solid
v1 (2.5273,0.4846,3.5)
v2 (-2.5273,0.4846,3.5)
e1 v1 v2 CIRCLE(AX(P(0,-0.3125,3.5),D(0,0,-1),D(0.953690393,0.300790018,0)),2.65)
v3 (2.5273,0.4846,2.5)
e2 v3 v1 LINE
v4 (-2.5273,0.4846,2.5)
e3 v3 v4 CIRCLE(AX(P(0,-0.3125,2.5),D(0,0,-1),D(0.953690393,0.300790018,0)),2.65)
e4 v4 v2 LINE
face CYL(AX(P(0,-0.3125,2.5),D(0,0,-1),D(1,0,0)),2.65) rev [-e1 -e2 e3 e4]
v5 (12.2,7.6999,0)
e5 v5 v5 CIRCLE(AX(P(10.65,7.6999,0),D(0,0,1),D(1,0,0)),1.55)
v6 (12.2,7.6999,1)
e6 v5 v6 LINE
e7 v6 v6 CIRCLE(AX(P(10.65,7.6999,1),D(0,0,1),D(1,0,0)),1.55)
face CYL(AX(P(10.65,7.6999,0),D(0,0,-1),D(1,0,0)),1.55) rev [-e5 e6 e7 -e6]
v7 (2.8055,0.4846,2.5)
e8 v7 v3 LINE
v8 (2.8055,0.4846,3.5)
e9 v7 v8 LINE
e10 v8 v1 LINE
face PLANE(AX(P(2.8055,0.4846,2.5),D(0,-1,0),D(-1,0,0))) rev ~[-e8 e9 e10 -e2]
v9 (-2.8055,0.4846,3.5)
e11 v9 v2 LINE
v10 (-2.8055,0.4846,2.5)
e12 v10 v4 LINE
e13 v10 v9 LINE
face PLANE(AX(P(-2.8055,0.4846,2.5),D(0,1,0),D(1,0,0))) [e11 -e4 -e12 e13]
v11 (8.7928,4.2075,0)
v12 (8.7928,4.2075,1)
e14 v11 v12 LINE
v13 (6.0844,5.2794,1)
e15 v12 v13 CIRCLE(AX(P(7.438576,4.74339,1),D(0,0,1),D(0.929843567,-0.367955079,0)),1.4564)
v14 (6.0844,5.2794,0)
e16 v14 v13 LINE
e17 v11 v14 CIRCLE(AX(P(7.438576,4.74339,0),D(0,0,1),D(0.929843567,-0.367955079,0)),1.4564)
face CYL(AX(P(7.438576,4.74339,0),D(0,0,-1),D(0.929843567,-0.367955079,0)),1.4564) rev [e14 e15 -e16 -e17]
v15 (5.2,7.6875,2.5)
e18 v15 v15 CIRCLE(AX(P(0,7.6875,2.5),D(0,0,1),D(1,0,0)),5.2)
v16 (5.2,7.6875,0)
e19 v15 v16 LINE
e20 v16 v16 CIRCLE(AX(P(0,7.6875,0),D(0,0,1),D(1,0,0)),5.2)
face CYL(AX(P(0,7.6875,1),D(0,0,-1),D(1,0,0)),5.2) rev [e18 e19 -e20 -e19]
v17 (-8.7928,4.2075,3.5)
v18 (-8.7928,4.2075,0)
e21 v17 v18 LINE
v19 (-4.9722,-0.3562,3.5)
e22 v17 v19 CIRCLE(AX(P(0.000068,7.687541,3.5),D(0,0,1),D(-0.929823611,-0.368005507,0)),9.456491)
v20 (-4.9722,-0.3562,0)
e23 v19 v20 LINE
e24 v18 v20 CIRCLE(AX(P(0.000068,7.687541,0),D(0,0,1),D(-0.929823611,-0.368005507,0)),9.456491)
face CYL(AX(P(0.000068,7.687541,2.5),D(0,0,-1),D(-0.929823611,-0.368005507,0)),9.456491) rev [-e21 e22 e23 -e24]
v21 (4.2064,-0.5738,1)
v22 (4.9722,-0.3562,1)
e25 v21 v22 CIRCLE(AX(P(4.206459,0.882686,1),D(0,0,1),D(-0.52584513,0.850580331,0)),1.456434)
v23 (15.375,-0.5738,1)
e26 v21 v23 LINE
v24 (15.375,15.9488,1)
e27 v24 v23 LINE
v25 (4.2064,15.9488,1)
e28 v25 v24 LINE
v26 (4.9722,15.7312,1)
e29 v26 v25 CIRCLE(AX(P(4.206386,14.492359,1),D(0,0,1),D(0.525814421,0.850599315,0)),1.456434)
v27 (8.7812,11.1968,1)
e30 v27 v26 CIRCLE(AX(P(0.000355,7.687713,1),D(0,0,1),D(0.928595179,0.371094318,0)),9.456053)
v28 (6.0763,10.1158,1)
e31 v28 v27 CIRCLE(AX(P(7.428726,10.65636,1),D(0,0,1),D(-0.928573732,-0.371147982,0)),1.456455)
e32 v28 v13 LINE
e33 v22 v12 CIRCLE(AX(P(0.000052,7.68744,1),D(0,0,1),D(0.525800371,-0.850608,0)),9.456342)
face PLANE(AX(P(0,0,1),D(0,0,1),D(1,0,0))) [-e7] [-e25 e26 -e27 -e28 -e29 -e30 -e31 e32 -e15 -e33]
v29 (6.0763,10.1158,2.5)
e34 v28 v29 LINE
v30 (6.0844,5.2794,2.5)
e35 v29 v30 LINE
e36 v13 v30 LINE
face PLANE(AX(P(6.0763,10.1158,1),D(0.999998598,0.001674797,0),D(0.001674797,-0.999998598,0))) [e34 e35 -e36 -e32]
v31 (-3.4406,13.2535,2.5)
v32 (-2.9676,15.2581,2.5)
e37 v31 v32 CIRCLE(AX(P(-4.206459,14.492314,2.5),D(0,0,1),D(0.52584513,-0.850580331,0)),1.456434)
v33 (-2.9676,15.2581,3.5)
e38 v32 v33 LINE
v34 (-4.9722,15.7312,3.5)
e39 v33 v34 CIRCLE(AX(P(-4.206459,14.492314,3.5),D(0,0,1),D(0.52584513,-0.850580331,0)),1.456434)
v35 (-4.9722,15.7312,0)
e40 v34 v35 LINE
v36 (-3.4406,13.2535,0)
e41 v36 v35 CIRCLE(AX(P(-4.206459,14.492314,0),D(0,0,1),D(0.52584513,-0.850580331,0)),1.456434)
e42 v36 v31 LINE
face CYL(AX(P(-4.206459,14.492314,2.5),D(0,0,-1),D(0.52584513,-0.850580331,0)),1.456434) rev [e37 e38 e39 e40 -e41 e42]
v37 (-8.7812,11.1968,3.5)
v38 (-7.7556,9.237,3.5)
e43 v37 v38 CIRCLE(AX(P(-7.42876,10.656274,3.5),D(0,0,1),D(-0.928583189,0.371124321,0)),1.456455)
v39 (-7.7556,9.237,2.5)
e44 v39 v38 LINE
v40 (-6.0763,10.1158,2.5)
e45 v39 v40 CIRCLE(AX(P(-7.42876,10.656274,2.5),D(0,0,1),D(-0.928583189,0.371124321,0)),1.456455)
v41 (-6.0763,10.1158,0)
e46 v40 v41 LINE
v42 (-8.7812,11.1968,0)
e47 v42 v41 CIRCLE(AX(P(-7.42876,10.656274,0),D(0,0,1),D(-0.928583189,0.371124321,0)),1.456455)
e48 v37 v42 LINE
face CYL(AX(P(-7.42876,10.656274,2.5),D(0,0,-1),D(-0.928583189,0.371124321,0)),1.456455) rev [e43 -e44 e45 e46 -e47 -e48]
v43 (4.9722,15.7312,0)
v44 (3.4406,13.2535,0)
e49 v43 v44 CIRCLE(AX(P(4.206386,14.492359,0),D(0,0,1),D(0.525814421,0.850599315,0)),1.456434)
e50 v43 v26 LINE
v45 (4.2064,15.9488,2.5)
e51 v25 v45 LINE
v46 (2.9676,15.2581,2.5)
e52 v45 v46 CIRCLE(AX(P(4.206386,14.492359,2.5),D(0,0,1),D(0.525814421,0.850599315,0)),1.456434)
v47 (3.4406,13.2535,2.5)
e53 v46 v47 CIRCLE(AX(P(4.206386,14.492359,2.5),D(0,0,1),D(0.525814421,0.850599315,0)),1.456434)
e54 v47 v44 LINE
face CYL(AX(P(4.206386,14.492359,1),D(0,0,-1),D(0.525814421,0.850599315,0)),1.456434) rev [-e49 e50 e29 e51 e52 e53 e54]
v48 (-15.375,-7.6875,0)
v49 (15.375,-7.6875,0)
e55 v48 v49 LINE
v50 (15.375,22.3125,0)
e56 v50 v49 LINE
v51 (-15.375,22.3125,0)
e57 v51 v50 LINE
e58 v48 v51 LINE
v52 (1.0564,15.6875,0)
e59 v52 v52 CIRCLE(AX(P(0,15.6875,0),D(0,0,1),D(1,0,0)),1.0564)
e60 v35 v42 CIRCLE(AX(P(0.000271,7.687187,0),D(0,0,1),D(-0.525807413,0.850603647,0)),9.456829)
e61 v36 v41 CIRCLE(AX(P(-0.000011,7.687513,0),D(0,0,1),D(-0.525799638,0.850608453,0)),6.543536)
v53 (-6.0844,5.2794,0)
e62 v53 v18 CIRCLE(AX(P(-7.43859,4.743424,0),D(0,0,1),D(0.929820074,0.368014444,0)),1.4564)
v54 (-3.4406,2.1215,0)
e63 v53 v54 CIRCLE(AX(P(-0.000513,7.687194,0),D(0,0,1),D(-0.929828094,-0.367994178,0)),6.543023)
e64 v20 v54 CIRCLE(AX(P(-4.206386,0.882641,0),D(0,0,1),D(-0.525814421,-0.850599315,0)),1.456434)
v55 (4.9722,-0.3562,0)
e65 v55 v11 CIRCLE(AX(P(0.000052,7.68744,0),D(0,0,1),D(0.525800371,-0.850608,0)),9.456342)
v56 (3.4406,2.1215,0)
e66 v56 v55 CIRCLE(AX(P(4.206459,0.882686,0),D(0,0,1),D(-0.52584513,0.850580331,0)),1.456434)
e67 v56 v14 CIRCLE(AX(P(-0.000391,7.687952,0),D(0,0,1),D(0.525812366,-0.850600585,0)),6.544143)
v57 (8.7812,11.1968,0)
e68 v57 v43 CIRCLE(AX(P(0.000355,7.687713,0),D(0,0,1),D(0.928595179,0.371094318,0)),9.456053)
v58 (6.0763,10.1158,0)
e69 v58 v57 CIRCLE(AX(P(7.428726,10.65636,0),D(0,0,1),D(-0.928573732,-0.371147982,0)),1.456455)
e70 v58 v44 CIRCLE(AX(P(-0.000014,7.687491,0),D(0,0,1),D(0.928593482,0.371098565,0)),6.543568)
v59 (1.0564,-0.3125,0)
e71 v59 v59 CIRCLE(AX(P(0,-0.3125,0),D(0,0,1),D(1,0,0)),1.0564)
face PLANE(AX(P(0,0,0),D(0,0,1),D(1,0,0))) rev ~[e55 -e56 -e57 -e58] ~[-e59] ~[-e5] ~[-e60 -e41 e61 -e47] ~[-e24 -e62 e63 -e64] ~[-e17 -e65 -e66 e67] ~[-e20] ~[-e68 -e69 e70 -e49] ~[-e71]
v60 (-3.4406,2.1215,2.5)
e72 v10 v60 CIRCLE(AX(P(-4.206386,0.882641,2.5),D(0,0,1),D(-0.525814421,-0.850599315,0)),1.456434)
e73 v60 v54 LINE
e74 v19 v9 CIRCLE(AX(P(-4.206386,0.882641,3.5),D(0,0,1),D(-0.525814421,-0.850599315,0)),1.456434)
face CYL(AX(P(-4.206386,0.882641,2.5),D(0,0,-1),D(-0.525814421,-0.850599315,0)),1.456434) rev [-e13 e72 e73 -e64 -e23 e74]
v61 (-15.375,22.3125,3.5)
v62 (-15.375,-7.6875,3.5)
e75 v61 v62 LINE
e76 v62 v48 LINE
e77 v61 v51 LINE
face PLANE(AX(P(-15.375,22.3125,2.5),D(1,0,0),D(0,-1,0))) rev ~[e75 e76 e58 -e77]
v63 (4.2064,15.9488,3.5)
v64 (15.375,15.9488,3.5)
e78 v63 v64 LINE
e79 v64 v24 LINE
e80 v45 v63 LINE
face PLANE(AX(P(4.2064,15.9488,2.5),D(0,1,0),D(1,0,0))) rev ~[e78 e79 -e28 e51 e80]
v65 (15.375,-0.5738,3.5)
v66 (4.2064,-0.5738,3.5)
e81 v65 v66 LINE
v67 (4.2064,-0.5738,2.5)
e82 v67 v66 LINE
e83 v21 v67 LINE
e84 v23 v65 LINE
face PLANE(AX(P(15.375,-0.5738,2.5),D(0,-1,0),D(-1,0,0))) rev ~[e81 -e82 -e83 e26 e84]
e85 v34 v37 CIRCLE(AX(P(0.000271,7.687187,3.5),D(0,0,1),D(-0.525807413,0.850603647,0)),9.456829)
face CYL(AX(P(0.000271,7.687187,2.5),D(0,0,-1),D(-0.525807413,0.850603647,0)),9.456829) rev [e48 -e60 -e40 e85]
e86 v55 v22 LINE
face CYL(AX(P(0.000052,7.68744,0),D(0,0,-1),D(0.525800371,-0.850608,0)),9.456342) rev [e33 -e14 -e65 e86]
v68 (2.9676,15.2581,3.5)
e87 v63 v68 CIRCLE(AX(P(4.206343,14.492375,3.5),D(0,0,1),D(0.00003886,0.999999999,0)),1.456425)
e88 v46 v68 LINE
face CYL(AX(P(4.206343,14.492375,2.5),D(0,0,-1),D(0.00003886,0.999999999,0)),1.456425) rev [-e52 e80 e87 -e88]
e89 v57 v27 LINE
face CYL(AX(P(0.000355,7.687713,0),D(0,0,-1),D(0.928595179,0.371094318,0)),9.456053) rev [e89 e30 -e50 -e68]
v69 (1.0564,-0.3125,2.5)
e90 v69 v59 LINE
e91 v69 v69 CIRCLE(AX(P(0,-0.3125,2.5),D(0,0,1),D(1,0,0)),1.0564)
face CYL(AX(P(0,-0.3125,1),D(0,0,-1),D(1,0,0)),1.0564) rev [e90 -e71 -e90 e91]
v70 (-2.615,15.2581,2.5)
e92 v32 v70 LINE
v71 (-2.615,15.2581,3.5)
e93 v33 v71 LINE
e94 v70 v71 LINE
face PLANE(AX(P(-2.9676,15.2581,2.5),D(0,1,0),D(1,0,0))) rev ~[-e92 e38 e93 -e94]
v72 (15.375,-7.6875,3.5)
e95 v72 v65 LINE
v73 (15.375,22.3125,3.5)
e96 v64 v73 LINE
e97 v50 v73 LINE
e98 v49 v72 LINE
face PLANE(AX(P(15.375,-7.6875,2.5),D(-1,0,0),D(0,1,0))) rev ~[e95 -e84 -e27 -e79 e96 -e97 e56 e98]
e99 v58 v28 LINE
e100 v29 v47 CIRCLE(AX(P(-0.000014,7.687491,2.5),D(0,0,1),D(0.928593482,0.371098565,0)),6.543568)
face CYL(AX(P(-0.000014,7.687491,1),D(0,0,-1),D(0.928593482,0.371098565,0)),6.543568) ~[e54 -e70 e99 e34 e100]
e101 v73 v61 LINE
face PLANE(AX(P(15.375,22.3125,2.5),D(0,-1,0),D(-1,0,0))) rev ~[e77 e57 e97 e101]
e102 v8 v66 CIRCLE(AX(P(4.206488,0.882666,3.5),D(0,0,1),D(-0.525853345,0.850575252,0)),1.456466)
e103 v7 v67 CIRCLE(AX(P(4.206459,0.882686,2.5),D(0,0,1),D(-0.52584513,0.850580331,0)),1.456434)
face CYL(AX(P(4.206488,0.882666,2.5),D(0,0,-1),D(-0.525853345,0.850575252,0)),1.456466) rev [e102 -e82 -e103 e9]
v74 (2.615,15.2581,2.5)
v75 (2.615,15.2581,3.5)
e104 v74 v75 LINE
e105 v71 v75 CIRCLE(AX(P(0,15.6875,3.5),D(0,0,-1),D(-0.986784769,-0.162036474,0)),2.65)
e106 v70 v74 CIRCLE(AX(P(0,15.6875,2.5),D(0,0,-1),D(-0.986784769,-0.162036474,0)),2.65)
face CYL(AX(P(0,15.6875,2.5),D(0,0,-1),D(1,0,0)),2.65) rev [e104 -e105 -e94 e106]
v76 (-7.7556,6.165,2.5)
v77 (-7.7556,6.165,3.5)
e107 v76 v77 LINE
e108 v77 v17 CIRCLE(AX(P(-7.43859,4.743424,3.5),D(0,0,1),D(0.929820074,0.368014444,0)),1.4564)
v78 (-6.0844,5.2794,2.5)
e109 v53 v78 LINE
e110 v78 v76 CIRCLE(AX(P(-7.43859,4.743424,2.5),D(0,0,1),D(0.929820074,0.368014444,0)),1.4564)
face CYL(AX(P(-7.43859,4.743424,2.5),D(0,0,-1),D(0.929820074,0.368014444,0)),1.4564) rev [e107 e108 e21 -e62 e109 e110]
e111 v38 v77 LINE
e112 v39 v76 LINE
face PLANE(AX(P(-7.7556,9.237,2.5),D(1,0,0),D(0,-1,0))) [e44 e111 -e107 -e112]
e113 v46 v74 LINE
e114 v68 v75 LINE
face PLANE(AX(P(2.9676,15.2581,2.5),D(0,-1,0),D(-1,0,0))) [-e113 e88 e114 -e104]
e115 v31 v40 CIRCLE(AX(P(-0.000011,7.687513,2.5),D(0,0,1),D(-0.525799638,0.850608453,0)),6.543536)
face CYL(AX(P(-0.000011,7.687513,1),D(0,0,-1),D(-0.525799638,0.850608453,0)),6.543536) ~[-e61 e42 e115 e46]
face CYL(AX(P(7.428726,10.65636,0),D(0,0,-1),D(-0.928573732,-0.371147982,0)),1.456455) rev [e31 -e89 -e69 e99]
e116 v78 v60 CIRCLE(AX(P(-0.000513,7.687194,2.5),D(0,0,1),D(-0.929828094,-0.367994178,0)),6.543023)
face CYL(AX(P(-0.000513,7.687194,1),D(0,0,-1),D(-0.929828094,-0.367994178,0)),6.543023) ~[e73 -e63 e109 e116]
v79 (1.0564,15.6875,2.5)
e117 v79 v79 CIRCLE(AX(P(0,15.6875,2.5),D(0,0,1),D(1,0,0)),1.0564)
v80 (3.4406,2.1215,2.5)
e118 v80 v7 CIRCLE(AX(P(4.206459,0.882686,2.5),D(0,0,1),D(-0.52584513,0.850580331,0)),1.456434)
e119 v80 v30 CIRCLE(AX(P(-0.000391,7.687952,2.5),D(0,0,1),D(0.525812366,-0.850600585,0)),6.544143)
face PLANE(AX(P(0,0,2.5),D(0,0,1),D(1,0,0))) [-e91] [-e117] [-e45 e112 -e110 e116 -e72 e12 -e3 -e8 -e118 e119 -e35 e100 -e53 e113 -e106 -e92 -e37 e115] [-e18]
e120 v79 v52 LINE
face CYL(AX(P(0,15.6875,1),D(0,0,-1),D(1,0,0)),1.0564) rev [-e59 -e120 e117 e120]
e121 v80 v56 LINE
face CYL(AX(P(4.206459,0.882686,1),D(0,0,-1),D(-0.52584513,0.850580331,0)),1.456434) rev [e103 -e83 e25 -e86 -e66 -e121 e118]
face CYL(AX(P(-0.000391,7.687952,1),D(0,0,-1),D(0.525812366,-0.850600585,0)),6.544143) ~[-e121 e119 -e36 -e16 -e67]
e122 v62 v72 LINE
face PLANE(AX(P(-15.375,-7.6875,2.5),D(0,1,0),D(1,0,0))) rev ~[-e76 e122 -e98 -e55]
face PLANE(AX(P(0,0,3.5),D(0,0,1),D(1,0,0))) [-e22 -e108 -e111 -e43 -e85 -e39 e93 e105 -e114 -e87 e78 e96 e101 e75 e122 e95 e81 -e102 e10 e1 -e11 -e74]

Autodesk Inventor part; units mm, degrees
ref_plane "YZ Plane" through (0, 0, 0) normal (1, 0, 0) x (0, 1, 0)
ref_plane "XZ Plane" through (0, 0, 0) normal (0, 1, 0) x (-1, 0, 0)
ref_plane "XY Plane" through (0, 0, 0) normal (0, 0, 1) x (1, 0, 0)
ref_plane "Work Plane1" through (0, 0, 0) normal (0, 0, 1) x (1, 0, 0)
sketch "Sketch1" plane through (0, 0, 0) normal (0, 0, 1) x (1, 0, 0)
  arc A0 (-3.651, 13.5937) -> (-4.7619, 15.391) centre (-4.2064, 14.4923) ccw projected
  arc A1 (-3.651, 13.5937) -> (-6.4477, 10.2643) centre (0, 7.6875) ccw projected
  arc A2 (-8.4097, 11.0483) -> (-6.4477, 10.2643) centre (-7.4287, 10.6563) ccw projected
  arc A3 (-4.7619, 15.391) -> (-8.4097, 11.0483) centre (0, 7.6875) ccw projected
  arc A4 (6.4477, 10.2643) -> (8.4097, 11.0483) centre (7.4287, 10.6563) ccw projected
  arc A5 (6.4477, 10.2643) -> (3.651, 13.5937) centre (0, 7.6875) ccw projected
  arc A6 (4.7619, 15.391) -> (3.651, 13.5937) centre (4.2064, 14.4923) ccw projected
  arc A7 (8.4097, 11.0483) -> (4.7619, 15.391) centre (0, 7.6875) ccw projected
  arc A8 (-6.4563, 5.1322) -> (-8.4209, 4.3547) centre (-7.4386, 4.7434) ccw projected
  arc A9 (-6.4563, 5.1322) -> (-3.651, 1.7813) centre (0, 7.6875) ccw projected
  arc A10 (-4.7619, -0.016) -> (-3.651, 1.7813) centre (-4.2064, 0.8827) ccw projected
  arc A11 (-8.4209, 4.3547) -> (-4.7619, -0.016) centre (0, 7.6875) ccw projected
  arc A12 (3.651, 1.7813) -> (4.7619, -0.016) centre (4.2064, 0.8827) ccw projected
  arc A13 (3.651, 1.7813) -> (6.4563, 5.1322) centre (0, 7.6875) ccw projected
  arc A14 (8.4209, 4.3547) -> (6.4563, 5.1322) centre (7.4386, 4.7434) ccw projected
  arc A15 (4.7619, -0.016) -> (8.4209, 4.3547) centre (0, 7.6875) ccw projected
  circle A16 centre (10.65, 7.6999) radius 1.15 projected
  circle A17 centre (0, 15.6875) radius 1.0564 projected
  circle A18 centre (0, -0.3125) radius 1.0564 projected
  circle A19 centre (0, 7.6875) radius 5 projected
  circle A20 centre (0, 7.6875) radius 13.7 projected
  line L0 (-116.625, -11.1875) -> (15.375, -11.1875) projected
  line L1 (15.375, -11.1875) -> (15.375, -7.6875) projected
  line L2 (-116.625, -7.6875) -> (15.375, -7.6875) projected
  line L3 (-116.625, -11.1875) -> (-116.625, -7.6875) projected
  line L4 (15.375, -7.6875) -> (-15.375, -7.6875)
  line L5 (-15.375, -7.6875) -> (-15.375, 22.3125)
  line L6 (-15.375, 22.3125) -> (15.375, 22.3125)
  line L7 (15.375, 22.3125) -> (15.375, -7.6875)
  circle A21 centre (0, 7.6875) radius 14.375 projected
  circle A22 centre (0, 7.6875) radius 5.2
  arc A23 (-3.4406, 13.2535) -> (-4.9722, 15.7312) centre (-4.2064, 14.4923) ccw
  arc A24 (-3.4406, 13.2535) -> (-6.0763, 10.1158) centre (0, 7.6875) ccw
  arc A25 (-8.7812, 11.1968) -> (-6.0763, 10.1158) centre (-7.4287, 10.6563) ccw
  arc A26 (-4.9722, 15.7312) -> (-8.7812, 11.1968) centre (0, 7.6875) ccw
  arc A27 (4.9722, 15.7312) -> (3.4406, 13.2535) centre (4.2064, 14.4923) ccw
  arc A28 (6.0763, 10.1158) -> (3.4406, 13.2535) centre (0, 7.6875) ccw
  arc A29 (6.0763, 10.1158) -> (8.7812, 11.1968) centre (7.4287, 10.6563) ccw
  arc A30 (8.7812, 11.1968) -> (4.9722, 15.7312) centre (0, 7.6875) ccw
  arc A31 (3.4406, 2.1215) -> (6.0844, 5.2794) centre (0, 7.6875) ccw
  arc A32 (3.4406, 2.1215) -> (4.9722, -0.3562) centre (4.2064, 0.8827) ccw
  arc A33 (4.9722, -0.3562) -> (8.7928, 4.2075) centre (0, 7.6875) ccw
  arc A34 (8.7928, 4.2075) -> (6.0844, 5.2794) centre (7.4386, 4.7434) ccw
  arc A35 (-6.0844, 5.2794) -> (-8.7928, 4.2075) centre (-7.4386, 4.7434) ccw
  arc A36 (-6.0844, 5.2794) -> (-3.4406, 2.1215) centre (0, 7.6875) ccw
  arc A37 (-4.9722, -0.3562) -> (-3.4406, 2.1215) centre (-4.2064, 0.8827) ccw
  arc A38 (-8.7928, 4.2075) -> (-4.9722, -0.3562) centre (0, 7.6875) ccw
  circle A39 centre (10.65, 7.6999) radius 1.55
  point P0 (0, 0)
  dimension "d0" = 30
  dimension "d1" = 15.375
  dimension "d2" = 15.375
  dimension "d3" = 0.2
  dimension "d4" = 0.4
  dimension "d5" = 0.4
  dimension "d6" = 0.4
  dimension "d7" = 0.4
  dimension "d8" = 0.4
extrude "Extrusion1" add sketch "Sketch1" along normal blind 1 contours A20 | L2 L5 L6 L7 | A21
sketch "Sketch2" plane through (0, 0, 1) normal (0, 0, 1) x (1, 0, 0)
  line L0 (15.375, 22.3125) -> (-15.375, 22.3125) projected
  line L1 (-15.375, 22.3125) -> (-15.375, -7.6875) projected
  line L2 (-15.375, -7.6875) -> (15.375, -7.6875) projected
  line L3 (15.375, -7.6875) -> (15.375, 22.3125) projected
  circle A0 centre (0, 15.6875) radius 1.0564 projected
  circle A1 centre (0, -0.3125) radius 1.0564 projected
  circle A2 centre (0, 7.6875) radius 5.2 projected
  arc A3 (-3.4406, 13.2535) -> (-6.0763, 10.1158) centre (0, 7.6875) ccw projected
  arc A4 (-8.7812, 11.1968) -> (-6.0763, 10.1158) centre (-7.4287, 10.6563) ccw projected
  arc A5 (-4.9722, 15.7312) -> (-8.7812, 11.1968) centre (0, 7.6875) ccw projected
  arc A6 (-3.4406, 13.2535) -> (-4.9722, 15.7312) centre (-4.2064, 14.4923) ccw projected
  arc A7 (6.0763, 10.1158) -> (3.4406, 13.2535) centre (0, 7.6875) ccw projected
  arc A8 (4.9722, 15.7312) -> (3.4406, 13.2535) centre (4.2064, 14.4923) ccw projected
  arc A9 (8.7812, 11.1968) -> (4.9722, 15.7312) centre (0, 7.6875) ccw projected
  arc A10 (6.0763, 10.1158) -> (8.7812, 11.1968) centre (7.4287, 10.6563) ccw projected
  arc A11 (3.4406, 2.1215) -> (4.9722, -0.3562) centre (4.2064, 0.8827) ccw projected
  arc A12 (3.4406, 2.1215) -> (6.0844, 5.2794) centre (0, 7.6875) ccw projected
  arc A13 (8.7928, 4.2075) -> (6.0844, 5.2794) centre (7.4386, 4.7434) ccw projected
  arc A14 (4.9722, -0.3562) -> (8.7928, 4.2075) centre (0, 7.6875) ccw projected
  arc A15 (-6.0844, 5.2794) -> (-3.4406, 2.1215) centre (0, 7.6875) ccw projected
  arc A16 (-4.9722, -0.3562) -> (-3.4406, 2.1215) centre (-4.2064, 0.8827) ccw projected
  arc A17 (-8.7928, 4.2075) -> (-4.9722, -0.3562) centre (0, 7.6875) ccw projected
  arc A18 (-6.0844, 5.2794) -> (-8.7928, 4.2075) centre (-7.4386, 4.7434) ccw projected
  circle A19 centre (10.65, 7.6999) radius 1.55 projected
  arc A20 (4.9722, 15.7312) -> (3.4406, 13.2535) centre (4.2064, 14.4923) ccw projected
  line L4 (4.2064, 15.9488) -> (15.375, 15.9488)
  line L5 (15.375, -7.6875) -> (15.375, 22.3125) projected
  line L6 (4.2064, -0.5738) -> (15.375, -0.5738)
  arc A21 (6.0763, 10.1158) -> (8.7812, 11.1968) centre (7.4287, 10.6563) ccw projected
  line L7 (6.0763, 10.1158) -> (6.0844, 5.2794)
  point P0 (0, 0)
extrude "Extrusion2" add sketch "Sketch2" along normal blind 1.5 contours L3 L4 A8 A7 L7 A12 A11 L6 L2 L1 L0
sketch "Sketch3" plane through (0, 0, 2.5) normal (0, 0, 1) x (1, 0, 0)
  line L0 (15.375, -7.6875) -> (15.375, -0.5738) projected
  line L1 (15.375, -0.5738) -> (4.2064, -0.5738) projected
  arc A0 (3.4406, 2.1215) -> (4.2064, -0.5738) centre (4.2064, 0.8827) ccw projected
  arc A1 (3.4406, 2.1215) -> (6.0844, 5.2794) centre (0, 7.6875) ccw projected
  line L2 (6.0844, 5.2794) -> (6.0763, 10.1158) projected
  arc A2 (6.0763, 10.1158) -> (3.4406, 13.2535) centre (0, 7.6875) ccw projected
  arc A3 (4.2064, 15.9488) -> (3.4406, 13.2535) centre (4.2064, 14.4923) ccw projected
  line L3 (4.2064, 15.9488) -> (15.375, 15.9488) projected
  line L4 (15.375, 15.9488) -> (15.375, 22.3125) projected
  line L5 (15.375, 22.3125) -> (-15.375, 22.3125) projected
  line L6 (-15.375, 22.3125) -> (-15.375, -7.6875) projected
  line L7 (-15.375, -7.6875) -> (15.375, -7.6875) projected
  circle A4 centre (0, 15.6875) radius 1.0564 projected
  circle A5 centre (0, -0.3125) radius 1.0564 projected
  arc A6 (-6.0844, 5.2794) -> (-8.7928, 4.2075) centre (-7.4386, 4.7434) ccw projected
  arc A7 (-6.0844, 5.2794) -> (-3.4406, 2.1215) centre (0, 7.6875) ccw projected
  arc A8 (-4.9722, -0.3562) -> (-3.4406, 2.1215) centre (-4.2064, 0.8827) ccw projected
  arc A9 (-8.7928, 4.2075) -> (-4.9722, -0.3562) centre (0, 7.6875) ccw projected
  arc A10 (-3.4406, 13.2535) -> (-4.9722, 15.7312) centre (-4.2064, 14.4923) ccw projected
  arc A11 (-3.4406, 13.2535) -> (-6.0763, 10.1158) centre (0, 7.6875) ccw projected
  arc A12 (-8.7812, 11.1968) -> (-6.0763, 10.1158) centre (-7.4287, 10.6563) ccw projected
  arc A13 (-4.9722, 15.7312) -> (-8.7812, 11.1968) centre (0, 7.6875) ccw projected
  circle A14 centre (0, 7.6875) radius 5.2 projected
  circle A15 centre (0, 15.6875) radius 2.65
  circle A16 centre (0, -0.3125) radius 1.0564 projected
  circle A17 centre (0, -0.3125) radius 2.65
  arc A18 (-2.4425, 10.6818) -> (-4.3563, 11.5819) centre (-5.3868, 6.906) ccw projected
  arc A19 (-4.3563, 11.5819) -> (-4.9119, 10.8525) centre (0, 7.6875) ccw projected
  arc A20 (-4.9119, 10.8525) -> (-3.5356, 9.2466) centre (-0.678, 13.0883) ccw projected
  arc A21 (-3.5356, 9.2466) -> (-3.736, 8.6743) centre (0, 7.6875) ccw projected
  arc A22 (-3.736, 8.6743) -> (-5.8134, 8.2775) centre (-3.8987, 3.889) ccw projected
  arc A23 (-5.8134, 8.2775) -> (-5.8341, 7.3609) centre (0, 7.6875) ccw projected
  arc A24 (-5.8341, 7.3609) -> (-3.7768, 6.8706) centre (-3.723, 11.6584) ccw projected
  arc A25 (-3.7768, 6.8706) -> (-3.6025, 6.2899) centre (0, 7.6875) ccw projected
  arc A26 (-3.6025, 6.2899) -> (-5.05, 4.7478) centre (-0.9214, 2.3228) ccw projected
  arc A27 (-5.05, 4.7478) -> (-4.5279, 3.994) centre (0, 7.6875) ccw projected
  arc A28 (-4.5279, 3.994) -> (-2.5753, 4.8067) centre (-5.346, 8.7117) ccw projected
  arc A29 (-2.5753, 4.8067) -> (-2.093, 4.4393) centre (0, 7.6875) ccw projected
  arc A30 (-2.093, 4.4393) -> (-2.3576, 2.341) centre (2.4078, 2.8058) ccw projected
  arc A31 (-2.3576, 2.341) -> (-1.4922, 2.038) centre (0, 7.6875) ccw projected
  arc A32 (-1.4922, 2.038) -> (-0.3902, 3.8431) centre (-4.927, 5.3738) ccw projected
  arc A33 (-0.3902, 3.8431) -> (0.216, 3.8294) centre (0, 7.6875) ccw projected
  arc A34 (0.216, 3.8294) -> (1.2353, 1.9763) centre (4.8174, 5.1534) ccw projected
  arc A35 (1.2353, 1.9763) -> (2.1135, 2.2398) centre (0, 7.6875) ccw projected
  arc A36 (2.1135, 2.2398) -> (1.944, 4.348) centre (-2.6261, 2.9196) ccw projected
  arc A37 (1.944, 4.348) -> (2.4425, 4.6932) centre (0, 7.6875) ccw projected
  arc A38 (2.4425, 4.6932) -> (4.3563, 3.7931) centre (5.3868, 8.469) ccw projected
  arc A39 (4.3563, 3.7931) -> (4.9119, 4.5225) centre (0, 7.6875) ccw projected
  arc A40 (4.9119, 4.5225) -> (3.5356, 6.1284) centre (0.678, 2.2867) ccw projected
  arc A41 (3.5356, 6.1284) -> (3.736, 6.7007) centre (0, 7.6875) ccw projected
  arc A42 (3.736, 6.7007) -> (5.8134, 7.0975) centre (3.8987, 11.486) ccw projected
  arc A43 (5.8134, 7.0975) -> (5.8341, 8.0141) centre (0, 7.6875) ccw projected
  arc A44 (5.8341, 8.0141) -> (3.7768, 8.5044) centre (3.723, 3.7166) ccw projected
  arc A45 (3.7768, 8.5044) -> (3.6025, 9.0851) centre (0, 7.6875) ccw projected
  arc A46 (3.6025, 9.0851) -> (5.05, 10.6272) centre (0.9214, 13.0522) ccw projected
  arc A47 (5.05, 10.6272) -> (4.5279, 11.381) centre (0, 7.6875) ccw projected
  arc A48 (4.5279, 11.381) -> (2.5753, 10.5683) centre (5.346, 6.6633) ccw projected
  arc A49 (2.5753, 10.5683) -> (2.093, 10.9357) centre (0, 7.6875) ccw projected
  arc A50 (2.093, 10.9357) -> (2.3576, 13.034) centre (-2.4078, 12.5692) ccw projected
  arc A51 (2.3576, 13.034) -> (1.4922, 13.337) centre (0, 7.6875) ccw projected
  arc A52 (1.4922, 13.337) -> (0.3902, 11.5319) centre (4.927, 10.0012) ccw projected
  arc A53 (0.3902, 11.5319) -> (-0.216, 11.5456) centre (0, 7.6875) ccw projected
  arc A54 (-0.216, 11.5456) -> (-1.2353, 13.3987) centre (-4.8174, 10.2216) ccw projected
  arc A55 (-1.2353, 13.3987) -> (-2.1135, 13.1352) centre (0, 7.6875) ccw projected
  arc A56 (-2.1135, 13.1352) -> (-1.944, 11.027) centre (2.6261, 12.4554) ccw projected
  arc A57 (-1.944, 11.027) -> (-2.4425, 10.6818) centre (0, 7.6875) ccw projected
  circle A58 centre (0, 7.6875) radius 5.8433
  circle A59 centre (0, 7.6875) radius 6.5436
  arc A60 (-3.4406, 13.2535) -> (-4.9722, 15.7312) centre (-4.2064, 14.4923) ccw projected
  line L8 (-2.9676, 15.2581) -> (-2.615, 15.2581)
  arc A61 (4.9722, 15.7312) -> (3.4406, 13.2535) centre (4.2064, 14.4923) ccw projected
  line L9 (2.9676, 15.2581) -> (2.615, 15.2581)
  arc A62 (3.4406, 2.1215) -> (4.9722, -0.3562) centre (4.2064, 0.8827) ccw projected
  line L10 (2.8055, 0.4846) -> (2.5273, 0.4846)
  arc A63 (-4.9722, -0.3562) -> (-3.4406, 2.1215) centre (-4.2064, 0.8827) ccw projected
  line L11 (-2.8055, 0.4846) -> (-2.5273, 0.4846)
  arc A64 (-8.7812, 11.1968) -> (-6.0763, 10.1158) centre (-7.4287, 10.6563) ccw projected
  line L12 (-7.7556, 9.237) -> (-7.7556, 6.165)
  point P0 (0, 0)
  point P1 (-6.0844, 5.2794)
  point P2 (-6.0763, 10.1158)
  point P3 (2.9676, 15.2581)
  dimension "d13" = 5.3
  dimension "d14" = 5.3
extrude "Extrusion3" add sketch "Sketch3" along normal blind 1 contours L7 L6 L5 L4 L3 A3 L9 A15 L8 A10 A13 A12 L12 A6 A9 A8 L11 A17 L10 A0 L1 L0
equation "\"d2\" = d1"
properties part number "front_motur_holder"
